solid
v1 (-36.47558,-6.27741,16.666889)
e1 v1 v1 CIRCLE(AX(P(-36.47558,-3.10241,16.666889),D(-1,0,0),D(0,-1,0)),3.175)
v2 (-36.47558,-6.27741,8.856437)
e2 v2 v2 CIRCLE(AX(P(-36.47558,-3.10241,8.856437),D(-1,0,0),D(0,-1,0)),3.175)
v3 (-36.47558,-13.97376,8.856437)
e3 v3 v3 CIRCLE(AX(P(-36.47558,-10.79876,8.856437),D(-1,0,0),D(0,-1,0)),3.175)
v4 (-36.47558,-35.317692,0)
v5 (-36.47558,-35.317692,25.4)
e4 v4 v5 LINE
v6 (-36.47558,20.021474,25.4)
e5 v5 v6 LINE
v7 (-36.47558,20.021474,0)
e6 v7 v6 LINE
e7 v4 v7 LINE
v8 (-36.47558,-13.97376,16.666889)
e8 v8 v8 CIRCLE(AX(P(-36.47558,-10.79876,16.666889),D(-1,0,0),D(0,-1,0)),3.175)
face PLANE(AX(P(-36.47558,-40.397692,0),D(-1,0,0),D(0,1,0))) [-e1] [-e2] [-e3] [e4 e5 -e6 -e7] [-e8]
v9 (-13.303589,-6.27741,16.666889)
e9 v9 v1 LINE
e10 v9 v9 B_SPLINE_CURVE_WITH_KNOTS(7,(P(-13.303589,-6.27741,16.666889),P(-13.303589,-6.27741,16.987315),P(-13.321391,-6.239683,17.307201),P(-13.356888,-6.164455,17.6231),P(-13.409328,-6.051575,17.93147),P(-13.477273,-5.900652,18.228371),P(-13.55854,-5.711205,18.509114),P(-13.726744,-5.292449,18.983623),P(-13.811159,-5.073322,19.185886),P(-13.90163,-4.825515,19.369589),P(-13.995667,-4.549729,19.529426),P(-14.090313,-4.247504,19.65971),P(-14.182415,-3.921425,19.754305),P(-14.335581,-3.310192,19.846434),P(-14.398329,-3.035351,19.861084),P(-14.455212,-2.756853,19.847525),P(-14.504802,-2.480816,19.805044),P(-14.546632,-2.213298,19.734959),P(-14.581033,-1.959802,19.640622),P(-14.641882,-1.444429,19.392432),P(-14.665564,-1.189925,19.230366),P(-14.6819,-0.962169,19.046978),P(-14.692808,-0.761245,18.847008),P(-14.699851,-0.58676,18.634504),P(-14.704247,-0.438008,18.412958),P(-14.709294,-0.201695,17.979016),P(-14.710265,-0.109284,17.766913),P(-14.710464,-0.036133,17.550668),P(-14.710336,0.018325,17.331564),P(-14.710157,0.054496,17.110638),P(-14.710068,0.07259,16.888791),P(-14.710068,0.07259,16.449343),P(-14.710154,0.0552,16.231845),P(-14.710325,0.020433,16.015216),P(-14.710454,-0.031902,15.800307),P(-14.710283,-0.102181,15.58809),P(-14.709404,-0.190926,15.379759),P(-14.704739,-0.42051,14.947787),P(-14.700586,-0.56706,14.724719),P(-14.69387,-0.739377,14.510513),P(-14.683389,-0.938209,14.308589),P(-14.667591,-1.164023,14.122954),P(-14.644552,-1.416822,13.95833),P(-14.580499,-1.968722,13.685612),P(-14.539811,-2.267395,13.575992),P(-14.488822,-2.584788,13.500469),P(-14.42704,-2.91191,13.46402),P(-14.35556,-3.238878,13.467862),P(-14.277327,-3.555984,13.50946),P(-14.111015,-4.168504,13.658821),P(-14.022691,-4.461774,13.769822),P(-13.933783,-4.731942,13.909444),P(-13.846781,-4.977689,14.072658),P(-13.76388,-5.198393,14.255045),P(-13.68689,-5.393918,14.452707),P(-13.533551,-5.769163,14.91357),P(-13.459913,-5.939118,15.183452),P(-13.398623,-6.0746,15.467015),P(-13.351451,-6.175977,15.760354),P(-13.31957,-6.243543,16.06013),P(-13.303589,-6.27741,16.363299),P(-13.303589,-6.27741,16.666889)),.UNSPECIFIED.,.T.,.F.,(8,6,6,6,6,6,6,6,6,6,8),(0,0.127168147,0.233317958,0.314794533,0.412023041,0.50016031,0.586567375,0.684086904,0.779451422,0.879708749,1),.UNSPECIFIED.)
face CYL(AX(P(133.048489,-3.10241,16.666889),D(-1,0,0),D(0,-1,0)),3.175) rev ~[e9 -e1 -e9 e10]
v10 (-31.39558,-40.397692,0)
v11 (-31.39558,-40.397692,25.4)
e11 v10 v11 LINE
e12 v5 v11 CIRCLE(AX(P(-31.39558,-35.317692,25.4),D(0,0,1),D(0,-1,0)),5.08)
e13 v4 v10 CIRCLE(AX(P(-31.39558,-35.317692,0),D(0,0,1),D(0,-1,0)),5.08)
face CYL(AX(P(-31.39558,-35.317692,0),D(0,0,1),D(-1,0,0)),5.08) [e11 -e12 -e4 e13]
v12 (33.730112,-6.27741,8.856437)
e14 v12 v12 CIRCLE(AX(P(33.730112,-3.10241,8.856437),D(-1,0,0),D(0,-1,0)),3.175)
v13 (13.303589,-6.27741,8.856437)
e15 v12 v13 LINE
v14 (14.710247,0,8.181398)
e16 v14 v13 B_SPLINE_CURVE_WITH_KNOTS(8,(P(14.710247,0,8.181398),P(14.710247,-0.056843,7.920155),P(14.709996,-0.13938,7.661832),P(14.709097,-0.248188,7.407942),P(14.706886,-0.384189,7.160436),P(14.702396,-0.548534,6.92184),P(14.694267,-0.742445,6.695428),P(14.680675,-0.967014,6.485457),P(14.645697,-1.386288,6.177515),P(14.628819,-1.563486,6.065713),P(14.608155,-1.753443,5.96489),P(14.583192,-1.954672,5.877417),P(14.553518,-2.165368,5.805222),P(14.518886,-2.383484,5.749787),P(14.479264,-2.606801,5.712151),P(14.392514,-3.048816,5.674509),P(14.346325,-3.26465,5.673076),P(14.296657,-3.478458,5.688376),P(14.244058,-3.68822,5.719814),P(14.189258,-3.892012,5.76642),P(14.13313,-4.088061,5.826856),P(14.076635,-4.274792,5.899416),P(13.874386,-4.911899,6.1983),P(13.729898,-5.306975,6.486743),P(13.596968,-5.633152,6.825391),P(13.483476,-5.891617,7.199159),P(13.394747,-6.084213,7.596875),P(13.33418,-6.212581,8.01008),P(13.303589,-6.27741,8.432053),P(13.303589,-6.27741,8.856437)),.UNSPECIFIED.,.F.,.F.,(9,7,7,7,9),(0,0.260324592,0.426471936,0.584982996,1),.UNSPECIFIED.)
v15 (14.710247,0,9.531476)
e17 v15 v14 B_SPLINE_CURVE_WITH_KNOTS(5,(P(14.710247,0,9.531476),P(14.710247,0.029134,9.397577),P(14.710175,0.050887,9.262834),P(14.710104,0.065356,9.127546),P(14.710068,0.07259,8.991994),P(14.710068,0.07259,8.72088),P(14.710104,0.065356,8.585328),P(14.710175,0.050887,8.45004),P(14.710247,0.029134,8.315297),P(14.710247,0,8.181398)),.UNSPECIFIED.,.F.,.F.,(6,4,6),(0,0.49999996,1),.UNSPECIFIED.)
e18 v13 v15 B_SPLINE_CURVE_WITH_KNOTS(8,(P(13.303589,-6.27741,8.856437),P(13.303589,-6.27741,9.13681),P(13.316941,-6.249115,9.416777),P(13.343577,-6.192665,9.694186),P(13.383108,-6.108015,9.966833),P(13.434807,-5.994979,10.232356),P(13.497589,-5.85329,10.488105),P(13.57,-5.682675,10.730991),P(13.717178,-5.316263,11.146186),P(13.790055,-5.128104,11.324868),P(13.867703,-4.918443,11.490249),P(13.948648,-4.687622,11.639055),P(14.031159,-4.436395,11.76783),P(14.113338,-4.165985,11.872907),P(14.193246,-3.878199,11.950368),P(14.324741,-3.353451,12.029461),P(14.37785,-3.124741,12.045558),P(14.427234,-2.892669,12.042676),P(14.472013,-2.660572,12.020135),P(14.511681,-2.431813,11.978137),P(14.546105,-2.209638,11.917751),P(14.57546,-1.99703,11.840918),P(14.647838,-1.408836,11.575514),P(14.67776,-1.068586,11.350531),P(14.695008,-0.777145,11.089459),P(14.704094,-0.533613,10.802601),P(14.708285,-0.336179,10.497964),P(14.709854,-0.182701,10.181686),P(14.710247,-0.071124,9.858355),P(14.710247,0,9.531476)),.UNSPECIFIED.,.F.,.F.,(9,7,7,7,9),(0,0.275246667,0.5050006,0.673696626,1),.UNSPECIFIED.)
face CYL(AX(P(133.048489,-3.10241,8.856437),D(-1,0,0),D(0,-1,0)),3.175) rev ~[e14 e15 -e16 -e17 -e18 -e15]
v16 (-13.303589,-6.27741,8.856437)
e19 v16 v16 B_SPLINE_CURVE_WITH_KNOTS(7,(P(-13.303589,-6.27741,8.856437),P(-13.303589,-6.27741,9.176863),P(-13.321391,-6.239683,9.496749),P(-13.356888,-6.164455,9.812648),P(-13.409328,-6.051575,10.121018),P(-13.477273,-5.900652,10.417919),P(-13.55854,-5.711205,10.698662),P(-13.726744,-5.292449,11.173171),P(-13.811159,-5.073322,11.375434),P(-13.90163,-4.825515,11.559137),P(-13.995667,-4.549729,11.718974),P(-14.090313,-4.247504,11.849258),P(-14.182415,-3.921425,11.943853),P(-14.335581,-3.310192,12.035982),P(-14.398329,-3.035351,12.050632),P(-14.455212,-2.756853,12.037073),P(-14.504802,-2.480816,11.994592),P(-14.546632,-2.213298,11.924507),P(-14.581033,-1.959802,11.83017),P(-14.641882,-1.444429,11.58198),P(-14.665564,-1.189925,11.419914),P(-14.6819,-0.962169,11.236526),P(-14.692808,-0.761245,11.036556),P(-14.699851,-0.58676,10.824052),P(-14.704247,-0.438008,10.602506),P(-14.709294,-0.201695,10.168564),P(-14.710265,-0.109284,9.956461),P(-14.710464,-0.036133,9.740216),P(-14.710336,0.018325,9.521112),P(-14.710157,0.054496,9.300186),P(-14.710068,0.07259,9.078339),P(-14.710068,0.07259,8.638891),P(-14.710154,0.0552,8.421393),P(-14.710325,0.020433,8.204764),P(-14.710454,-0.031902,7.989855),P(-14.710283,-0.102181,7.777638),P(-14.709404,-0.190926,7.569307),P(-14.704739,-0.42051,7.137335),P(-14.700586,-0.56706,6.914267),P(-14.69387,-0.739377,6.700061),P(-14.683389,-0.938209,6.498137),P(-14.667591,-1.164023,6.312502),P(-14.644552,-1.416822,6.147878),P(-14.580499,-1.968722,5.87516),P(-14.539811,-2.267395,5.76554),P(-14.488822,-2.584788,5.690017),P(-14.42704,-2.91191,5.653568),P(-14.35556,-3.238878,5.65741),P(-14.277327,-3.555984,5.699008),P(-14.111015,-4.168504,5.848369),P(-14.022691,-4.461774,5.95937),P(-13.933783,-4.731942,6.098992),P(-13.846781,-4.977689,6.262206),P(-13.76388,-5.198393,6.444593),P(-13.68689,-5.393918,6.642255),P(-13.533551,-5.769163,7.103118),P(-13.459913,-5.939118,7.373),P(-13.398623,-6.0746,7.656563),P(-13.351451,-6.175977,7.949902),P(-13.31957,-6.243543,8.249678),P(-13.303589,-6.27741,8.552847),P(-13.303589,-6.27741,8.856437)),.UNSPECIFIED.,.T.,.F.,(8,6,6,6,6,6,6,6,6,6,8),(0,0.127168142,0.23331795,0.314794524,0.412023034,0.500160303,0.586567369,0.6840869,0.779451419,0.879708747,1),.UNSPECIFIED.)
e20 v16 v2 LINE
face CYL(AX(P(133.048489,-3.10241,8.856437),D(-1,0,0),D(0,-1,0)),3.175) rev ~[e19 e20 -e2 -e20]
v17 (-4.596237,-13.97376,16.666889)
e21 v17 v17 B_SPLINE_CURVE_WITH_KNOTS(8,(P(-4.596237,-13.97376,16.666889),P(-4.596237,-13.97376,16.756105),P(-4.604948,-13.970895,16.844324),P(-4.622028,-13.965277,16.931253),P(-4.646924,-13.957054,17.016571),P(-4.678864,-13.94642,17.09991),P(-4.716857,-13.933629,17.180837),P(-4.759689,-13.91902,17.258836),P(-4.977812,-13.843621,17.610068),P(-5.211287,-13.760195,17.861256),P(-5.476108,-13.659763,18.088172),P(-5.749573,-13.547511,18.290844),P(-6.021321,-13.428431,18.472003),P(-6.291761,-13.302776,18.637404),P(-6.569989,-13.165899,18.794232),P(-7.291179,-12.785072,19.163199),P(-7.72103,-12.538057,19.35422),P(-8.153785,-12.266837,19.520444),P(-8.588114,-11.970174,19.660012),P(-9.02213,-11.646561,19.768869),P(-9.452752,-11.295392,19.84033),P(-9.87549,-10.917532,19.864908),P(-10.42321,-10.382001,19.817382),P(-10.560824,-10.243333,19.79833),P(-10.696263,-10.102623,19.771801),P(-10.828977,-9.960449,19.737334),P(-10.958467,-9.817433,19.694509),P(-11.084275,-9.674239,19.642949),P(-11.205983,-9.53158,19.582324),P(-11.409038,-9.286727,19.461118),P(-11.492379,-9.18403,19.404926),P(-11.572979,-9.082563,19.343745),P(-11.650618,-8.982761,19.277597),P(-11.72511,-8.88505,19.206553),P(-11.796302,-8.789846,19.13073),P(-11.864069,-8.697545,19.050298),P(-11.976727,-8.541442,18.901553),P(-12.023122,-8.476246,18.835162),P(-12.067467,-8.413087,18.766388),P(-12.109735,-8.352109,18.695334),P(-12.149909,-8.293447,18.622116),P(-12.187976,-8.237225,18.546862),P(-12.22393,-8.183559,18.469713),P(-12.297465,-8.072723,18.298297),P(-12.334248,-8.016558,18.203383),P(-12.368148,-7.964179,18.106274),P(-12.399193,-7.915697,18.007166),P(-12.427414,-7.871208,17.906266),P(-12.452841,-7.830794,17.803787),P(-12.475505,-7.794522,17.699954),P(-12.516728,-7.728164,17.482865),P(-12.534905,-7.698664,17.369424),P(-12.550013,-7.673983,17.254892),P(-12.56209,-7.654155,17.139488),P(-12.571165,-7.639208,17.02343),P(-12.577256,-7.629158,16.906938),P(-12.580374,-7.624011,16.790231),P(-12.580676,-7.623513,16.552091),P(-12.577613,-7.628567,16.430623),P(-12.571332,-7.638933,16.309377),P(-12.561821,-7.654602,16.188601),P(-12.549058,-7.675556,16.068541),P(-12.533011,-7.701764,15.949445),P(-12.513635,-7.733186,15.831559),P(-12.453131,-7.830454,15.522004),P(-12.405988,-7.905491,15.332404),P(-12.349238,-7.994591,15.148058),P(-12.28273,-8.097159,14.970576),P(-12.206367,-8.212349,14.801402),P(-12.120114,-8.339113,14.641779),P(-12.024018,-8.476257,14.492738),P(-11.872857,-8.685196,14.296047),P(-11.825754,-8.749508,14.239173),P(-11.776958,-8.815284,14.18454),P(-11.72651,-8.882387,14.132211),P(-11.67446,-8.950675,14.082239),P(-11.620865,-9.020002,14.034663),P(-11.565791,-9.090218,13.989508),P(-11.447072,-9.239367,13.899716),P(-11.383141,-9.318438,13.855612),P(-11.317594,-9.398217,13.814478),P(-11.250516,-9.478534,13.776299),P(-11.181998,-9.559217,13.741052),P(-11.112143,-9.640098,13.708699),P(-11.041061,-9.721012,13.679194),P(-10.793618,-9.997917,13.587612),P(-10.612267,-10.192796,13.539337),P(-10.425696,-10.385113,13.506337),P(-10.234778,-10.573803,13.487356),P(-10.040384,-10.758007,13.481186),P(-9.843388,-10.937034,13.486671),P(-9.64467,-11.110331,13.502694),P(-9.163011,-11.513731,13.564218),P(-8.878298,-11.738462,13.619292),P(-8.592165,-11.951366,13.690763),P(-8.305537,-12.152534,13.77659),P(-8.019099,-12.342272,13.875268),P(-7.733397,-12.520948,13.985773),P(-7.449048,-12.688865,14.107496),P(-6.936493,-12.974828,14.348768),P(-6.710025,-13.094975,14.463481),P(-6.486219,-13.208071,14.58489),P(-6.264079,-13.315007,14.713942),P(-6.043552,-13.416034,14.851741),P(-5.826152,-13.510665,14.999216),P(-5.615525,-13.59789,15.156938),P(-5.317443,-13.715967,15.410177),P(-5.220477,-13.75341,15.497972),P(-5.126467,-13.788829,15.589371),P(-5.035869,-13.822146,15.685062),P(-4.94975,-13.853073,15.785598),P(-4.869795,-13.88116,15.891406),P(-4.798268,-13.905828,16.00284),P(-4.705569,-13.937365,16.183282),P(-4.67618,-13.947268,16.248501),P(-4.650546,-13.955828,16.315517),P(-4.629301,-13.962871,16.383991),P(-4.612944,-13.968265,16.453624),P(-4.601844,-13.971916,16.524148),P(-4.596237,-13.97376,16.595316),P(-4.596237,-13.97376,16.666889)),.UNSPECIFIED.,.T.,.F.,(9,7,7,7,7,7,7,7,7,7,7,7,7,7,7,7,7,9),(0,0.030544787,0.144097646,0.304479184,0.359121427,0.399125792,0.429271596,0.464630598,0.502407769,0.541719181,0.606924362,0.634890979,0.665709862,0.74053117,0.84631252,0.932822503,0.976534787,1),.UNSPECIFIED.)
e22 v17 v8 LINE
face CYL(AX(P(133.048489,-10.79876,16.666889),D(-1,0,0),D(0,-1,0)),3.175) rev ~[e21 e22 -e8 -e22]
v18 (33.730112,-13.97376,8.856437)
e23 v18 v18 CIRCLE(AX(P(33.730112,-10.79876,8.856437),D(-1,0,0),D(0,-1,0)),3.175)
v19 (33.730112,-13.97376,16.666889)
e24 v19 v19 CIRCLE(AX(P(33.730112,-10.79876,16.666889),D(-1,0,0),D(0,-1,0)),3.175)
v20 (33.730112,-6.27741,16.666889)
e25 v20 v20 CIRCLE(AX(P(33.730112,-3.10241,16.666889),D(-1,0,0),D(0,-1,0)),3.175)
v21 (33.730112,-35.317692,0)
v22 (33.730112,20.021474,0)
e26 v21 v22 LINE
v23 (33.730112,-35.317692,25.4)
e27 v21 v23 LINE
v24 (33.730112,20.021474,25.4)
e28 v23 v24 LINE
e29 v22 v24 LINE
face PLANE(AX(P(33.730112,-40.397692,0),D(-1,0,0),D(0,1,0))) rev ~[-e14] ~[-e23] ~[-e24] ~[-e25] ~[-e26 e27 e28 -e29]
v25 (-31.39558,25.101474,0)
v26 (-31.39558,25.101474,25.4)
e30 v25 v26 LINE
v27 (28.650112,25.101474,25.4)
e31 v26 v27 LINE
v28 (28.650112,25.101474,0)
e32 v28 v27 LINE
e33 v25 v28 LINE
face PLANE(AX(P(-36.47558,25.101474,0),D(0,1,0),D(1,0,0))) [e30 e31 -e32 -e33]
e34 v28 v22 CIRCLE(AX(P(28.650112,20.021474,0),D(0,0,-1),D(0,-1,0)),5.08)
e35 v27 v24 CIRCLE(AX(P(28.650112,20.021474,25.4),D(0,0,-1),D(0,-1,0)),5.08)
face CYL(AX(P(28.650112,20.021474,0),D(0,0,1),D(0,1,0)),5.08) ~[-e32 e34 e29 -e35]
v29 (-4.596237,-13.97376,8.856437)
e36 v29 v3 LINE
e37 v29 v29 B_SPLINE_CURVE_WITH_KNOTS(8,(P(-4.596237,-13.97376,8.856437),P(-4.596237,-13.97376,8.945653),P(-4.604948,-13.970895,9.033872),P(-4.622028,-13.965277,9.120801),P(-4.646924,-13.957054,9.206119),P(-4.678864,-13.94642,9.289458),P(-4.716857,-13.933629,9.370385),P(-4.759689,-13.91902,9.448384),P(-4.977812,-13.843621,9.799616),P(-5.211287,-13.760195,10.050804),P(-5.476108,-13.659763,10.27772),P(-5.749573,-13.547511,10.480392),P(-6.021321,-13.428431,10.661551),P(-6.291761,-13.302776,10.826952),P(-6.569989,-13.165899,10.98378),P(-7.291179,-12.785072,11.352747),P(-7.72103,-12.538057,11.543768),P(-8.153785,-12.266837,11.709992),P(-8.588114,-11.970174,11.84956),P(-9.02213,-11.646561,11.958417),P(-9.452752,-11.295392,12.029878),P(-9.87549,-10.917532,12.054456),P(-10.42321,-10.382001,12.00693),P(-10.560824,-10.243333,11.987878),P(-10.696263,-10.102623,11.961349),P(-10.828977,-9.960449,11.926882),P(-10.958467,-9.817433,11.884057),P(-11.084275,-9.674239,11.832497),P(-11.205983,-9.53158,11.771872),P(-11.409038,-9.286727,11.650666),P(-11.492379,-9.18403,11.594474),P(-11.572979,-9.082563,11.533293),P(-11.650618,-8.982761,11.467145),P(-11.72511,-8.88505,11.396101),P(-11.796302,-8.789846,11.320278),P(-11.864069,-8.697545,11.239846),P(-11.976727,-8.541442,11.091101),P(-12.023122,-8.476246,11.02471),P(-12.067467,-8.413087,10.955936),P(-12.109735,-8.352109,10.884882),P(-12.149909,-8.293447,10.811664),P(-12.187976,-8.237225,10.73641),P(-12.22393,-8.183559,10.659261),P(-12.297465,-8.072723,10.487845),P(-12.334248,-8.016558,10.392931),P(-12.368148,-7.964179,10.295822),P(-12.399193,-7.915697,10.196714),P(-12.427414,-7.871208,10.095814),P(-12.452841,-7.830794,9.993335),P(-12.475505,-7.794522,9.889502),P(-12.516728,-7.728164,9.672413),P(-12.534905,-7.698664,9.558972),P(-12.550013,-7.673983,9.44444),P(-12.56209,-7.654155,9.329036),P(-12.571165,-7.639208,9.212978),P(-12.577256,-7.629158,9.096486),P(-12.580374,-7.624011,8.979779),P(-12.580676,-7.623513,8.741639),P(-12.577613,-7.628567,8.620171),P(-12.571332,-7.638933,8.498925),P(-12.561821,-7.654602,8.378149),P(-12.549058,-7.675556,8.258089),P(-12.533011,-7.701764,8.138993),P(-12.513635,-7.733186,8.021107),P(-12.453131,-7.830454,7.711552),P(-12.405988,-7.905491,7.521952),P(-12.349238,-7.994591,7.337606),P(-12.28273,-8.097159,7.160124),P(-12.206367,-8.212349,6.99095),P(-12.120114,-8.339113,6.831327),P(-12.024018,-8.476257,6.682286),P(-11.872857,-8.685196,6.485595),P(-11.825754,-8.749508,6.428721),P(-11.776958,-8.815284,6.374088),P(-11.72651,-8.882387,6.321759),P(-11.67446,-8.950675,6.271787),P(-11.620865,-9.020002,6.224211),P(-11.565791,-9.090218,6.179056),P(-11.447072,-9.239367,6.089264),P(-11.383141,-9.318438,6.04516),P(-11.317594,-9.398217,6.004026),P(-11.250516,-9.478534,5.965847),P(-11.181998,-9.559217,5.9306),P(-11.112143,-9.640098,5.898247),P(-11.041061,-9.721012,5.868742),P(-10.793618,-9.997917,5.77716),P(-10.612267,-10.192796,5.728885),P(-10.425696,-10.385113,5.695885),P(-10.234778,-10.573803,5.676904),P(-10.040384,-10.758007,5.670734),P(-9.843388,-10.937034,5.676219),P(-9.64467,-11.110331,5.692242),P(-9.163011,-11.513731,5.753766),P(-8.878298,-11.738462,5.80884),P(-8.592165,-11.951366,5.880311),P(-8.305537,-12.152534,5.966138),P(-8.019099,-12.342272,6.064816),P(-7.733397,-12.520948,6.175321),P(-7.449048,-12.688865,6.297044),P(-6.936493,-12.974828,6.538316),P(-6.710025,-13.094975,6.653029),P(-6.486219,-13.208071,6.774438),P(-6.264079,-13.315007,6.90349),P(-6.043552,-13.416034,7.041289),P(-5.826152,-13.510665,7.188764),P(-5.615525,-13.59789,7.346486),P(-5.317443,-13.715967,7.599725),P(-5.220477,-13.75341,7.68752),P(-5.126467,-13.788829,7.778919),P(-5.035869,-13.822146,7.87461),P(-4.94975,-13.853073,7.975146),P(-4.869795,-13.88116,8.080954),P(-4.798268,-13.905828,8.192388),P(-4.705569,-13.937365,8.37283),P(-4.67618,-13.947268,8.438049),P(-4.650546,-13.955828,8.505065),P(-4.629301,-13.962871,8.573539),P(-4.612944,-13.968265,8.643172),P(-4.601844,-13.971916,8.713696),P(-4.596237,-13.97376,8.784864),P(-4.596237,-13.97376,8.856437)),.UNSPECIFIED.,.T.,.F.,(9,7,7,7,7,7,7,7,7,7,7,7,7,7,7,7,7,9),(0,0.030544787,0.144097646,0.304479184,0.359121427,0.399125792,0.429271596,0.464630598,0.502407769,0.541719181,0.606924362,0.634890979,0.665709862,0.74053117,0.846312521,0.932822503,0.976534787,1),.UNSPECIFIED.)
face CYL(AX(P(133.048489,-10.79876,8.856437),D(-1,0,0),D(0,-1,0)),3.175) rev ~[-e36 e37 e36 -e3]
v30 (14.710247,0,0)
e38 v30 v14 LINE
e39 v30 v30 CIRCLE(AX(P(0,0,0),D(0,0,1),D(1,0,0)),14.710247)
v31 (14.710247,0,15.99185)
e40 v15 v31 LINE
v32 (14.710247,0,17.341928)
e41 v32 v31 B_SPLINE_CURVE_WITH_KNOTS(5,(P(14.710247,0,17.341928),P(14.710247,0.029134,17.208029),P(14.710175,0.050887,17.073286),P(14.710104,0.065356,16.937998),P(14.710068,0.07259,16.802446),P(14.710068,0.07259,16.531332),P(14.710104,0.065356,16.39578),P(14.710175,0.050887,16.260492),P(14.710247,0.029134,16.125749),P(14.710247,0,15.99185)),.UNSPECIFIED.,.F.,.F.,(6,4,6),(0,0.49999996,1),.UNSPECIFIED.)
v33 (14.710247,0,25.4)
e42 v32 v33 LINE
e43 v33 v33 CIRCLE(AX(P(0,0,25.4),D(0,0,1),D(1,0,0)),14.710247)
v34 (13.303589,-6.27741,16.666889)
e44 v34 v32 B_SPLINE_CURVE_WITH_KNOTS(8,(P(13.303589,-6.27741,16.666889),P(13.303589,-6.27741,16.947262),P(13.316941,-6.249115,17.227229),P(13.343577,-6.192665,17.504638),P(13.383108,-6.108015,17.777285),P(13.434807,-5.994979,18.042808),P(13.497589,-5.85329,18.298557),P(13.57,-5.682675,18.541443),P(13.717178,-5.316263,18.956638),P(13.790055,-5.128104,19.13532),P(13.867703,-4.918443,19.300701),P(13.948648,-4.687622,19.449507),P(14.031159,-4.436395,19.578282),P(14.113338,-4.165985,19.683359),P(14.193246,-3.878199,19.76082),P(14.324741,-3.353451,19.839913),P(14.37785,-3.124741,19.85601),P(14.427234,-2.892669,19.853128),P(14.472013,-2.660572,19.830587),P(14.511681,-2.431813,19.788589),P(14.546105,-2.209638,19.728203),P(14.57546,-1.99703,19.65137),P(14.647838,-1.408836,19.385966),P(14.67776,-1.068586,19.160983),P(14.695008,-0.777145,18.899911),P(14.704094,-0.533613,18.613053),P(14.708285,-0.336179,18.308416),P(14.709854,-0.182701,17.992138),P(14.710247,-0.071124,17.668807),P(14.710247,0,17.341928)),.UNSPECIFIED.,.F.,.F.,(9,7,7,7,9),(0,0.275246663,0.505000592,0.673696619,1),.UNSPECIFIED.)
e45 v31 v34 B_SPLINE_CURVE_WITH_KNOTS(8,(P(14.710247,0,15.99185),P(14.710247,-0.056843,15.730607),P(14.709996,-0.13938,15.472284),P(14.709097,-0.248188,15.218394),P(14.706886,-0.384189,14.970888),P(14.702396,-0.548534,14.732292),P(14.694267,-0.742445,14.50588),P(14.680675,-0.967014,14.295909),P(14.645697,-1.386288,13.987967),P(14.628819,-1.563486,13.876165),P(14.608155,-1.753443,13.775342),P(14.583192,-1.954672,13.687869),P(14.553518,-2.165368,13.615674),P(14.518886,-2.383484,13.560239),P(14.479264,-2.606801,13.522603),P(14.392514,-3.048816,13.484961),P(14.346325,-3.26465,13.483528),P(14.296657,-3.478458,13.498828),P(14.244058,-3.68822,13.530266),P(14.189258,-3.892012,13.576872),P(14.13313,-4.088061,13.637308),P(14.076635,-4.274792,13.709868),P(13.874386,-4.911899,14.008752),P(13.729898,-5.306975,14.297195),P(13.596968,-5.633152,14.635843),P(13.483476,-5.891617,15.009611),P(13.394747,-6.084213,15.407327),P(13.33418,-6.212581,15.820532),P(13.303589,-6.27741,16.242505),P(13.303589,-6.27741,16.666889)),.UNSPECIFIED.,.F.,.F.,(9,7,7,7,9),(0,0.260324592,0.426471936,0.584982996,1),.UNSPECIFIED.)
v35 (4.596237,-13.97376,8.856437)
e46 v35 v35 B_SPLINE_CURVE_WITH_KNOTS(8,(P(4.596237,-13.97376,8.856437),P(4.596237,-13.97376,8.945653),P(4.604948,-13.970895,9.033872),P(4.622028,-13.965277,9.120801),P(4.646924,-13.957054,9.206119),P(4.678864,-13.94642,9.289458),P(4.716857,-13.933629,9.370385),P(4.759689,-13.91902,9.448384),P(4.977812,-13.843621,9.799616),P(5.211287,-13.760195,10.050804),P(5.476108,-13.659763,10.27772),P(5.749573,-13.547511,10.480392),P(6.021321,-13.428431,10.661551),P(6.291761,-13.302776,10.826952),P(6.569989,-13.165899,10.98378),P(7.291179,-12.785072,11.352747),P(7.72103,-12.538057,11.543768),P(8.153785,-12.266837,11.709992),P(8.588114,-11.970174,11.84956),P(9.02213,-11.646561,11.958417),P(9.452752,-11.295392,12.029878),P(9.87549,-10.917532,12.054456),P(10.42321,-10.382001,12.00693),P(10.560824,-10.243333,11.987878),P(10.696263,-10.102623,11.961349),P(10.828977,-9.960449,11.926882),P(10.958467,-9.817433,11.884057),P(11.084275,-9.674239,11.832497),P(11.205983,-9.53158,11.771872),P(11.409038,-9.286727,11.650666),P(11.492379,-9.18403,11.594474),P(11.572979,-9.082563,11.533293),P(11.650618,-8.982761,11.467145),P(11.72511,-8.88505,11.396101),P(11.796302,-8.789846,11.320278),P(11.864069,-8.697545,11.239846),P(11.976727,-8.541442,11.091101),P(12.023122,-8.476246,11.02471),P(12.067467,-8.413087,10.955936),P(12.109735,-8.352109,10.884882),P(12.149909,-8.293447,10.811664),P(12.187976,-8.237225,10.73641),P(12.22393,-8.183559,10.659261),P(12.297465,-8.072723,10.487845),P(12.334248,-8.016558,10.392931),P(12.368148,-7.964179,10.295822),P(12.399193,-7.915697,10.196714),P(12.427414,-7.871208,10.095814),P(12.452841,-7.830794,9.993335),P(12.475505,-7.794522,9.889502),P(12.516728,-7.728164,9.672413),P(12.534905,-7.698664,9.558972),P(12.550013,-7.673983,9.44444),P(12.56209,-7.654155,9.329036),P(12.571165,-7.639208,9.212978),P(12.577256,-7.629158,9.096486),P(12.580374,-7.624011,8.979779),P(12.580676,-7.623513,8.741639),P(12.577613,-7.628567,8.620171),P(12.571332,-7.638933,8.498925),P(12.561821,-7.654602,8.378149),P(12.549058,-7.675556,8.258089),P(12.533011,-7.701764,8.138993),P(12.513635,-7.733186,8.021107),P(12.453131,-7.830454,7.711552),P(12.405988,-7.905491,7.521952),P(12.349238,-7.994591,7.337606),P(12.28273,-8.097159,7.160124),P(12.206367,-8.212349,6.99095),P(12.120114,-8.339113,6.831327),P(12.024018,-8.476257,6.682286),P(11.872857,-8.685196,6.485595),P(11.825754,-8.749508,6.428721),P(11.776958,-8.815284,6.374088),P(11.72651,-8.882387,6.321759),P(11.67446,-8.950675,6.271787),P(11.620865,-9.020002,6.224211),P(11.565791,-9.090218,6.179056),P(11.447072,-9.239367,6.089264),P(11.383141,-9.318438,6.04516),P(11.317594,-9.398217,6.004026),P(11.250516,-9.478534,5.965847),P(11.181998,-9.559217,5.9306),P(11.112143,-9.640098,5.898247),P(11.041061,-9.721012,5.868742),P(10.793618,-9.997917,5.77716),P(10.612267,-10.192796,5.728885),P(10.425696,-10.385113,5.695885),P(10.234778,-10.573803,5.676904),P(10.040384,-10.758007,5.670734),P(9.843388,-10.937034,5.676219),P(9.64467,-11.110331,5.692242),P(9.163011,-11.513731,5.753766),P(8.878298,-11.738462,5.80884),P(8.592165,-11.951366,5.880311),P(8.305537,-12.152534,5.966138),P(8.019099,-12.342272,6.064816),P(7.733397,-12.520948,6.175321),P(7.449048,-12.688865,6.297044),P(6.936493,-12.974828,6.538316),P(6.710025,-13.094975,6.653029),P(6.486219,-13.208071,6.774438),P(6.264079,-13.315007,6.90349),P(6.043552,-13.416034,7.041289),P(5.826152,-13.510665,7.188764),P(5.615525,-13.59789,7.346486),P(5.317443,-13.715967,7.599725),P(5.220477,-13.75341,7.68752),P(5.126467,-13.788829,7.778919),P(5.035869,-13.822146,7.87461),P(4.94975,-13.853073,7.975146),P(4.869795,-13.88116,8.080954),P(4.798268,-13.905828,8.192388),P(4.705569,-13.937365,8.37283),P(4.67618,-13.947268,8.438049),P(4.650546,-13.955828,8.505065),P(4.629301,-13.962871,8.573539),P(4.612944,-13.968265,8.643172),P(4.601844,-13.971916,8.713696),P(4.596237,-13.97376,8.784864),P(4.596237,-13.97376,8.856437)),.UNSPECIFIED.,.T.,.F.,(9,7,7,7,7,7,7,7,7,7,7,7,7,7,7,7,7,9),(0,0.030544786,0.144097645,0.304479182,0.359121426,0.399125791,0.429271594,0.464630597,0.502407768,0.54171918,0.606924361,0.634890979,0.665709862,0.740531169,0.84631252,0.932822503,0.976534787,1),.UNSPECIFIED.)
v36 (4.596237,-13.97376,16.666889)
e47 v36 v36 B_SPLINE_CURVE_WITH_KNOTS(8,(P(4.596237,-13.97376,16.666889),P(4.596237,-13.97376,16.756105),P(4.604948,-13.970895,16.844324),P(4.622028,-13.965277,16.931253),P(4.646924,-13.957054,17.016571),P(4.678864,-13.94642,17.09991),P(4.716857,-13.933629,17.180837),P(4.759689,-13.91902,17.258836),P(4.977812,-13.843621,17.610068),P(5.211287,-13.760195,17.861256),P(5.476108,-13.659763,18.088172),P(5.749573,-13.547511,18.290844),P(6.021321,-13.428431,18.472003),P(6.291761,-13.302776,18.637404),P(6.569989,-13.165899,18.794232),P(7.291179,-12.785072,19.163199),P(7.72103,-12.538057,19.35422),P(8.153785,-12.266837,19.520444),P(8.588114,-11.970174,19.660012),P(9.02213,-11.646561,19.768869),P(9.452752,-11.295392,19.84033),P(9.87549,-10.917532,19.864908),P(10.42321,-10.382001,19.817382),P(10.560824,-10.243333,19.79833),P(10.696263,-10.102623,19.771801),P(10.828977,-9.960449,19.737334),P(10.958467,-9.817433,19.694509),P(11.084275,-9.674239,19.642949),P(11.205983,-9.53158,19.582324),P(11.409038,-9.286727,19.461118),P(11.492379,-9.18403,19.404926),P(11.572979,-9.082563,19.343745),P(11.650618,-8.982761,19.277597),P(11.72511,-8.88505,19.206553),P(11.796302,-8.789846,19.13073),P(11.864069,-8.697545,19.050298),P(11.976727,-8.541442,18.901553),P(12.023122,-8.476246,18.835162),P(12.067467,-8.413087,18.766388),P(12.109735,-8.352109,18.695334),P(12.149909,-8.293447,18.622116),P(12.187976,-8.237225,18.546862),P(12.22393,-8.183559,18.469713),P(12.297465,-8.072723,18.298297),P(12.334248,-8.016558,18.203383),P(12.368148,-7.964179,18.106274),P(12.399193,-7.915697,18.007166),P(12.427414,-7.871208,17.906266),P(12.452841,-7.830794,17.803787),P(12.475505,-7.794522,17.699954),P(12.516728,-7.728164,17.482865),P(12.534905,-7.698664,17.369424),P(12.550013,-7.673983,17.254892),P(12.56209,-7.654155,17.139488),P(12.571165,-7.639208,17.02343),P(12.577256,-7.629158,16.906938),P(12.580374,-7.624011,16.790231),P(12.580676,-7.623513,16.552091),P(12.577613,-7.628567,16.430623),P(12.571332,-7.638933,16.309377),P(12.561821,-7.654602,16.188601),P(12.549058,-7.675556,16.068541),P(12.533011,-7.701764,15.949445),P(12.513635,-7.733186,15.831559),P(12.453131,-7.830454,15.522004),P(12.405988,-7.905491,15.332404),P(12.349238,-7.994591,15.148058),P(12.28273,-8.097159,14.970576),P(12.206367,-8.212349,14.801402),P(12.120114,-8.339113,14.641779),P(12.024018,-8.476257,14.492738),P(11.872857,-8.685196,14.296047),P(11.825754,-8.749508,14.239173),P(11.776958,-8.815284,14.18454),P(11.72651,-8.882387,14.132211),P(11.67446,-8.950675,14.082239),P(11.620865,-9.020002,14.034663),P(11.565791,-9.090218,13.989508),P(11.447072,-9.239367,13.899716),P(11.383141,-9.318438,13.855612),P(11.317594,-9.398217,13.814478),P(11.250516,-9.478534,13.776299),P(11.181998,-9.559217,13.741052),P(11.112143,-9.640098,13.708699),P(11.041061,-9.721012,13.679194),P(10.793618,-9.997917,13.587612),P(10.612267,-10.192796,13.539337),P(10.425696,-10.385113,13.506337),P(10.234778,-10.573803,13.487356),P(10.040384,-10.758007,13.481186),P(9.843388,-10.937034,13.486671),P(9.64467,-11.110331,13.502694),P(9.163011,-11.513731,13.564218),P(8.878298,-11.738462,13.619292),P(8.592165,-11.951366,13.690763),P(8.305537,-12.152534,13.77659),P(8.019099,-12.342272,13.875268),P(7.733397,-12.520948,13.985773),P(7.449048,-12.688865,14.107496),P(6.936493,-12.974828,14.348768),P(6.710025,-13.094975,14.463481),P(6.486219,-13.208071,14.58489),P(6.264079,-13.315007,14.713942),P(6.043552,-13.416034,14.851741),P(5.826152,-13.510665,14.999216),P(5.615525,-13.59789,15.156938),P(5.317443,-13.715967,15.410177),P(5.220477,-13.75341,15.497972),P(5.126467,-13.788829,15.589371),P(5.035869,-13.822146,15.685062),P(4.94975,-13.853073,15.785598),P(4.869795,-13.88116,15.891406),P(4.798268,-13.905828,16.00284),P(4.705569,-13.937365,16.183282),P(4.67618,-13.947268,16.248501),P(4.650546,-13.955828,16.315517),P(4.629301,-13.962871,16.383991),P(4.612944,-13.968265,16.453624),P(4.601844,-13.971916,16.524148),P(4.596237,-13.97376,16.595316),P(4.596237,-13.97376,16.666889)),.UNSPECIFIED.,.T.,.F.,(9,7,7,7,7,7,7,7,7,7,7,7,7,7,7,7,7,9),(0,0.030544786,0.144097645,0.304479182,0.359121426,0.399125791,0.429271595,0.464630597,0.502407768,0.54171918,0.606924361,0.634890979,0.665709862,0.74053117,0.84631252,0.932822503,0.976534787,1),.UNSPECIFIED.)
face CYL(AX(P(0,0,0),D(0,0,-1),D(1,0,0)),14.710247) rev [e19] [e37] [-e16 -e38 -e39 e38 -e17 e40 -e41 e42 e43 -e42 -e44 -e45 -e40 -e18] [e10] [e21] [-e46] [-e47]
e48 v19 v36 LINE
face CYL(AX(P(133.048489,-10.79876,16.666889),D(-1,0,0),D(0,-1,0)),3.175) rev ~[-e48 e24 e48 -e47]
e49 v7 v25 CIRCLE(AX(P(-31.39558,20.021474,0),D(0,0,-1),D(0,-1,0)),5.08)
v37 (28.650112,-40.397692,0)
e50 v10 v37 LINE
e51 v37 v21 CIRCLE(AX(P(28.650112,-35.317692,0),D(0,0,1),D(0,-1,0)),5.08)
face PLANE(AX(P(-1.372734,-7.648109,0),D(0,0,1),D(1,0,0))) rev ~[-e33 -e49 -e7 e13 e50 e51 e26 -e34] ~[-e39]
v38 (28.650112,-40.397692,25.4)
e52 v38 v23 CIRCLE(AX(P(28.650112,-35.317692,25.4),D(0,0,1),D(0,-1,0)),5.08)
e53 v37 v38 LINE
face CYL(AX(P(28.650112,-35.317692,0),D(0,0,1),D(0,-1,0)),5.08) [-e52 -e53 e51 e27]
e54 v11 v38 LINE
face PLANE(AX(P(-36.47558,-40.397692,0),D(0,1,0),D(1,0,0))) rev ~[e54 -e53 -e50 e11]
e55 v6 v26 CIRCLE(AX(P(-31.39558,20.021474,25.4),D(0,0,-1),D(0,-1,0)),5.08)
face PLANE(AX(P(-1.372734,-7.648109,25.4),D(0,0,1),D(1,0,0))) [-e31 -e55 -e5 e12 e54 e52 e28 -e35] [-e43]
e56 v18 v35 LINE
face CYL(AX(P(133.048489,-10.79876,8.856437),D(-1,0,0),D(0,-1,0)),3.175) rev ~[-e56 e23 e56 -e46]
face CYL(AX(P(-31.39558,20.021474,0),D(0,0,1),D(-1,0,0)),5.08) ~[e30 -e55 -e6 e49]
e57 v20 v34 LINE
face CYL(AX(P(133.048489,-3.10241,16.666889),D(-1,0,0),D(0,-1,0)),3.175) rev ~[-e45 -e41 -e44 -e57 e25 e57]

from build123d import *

# Parameters (mm, degrees)
F0_W     = 70.205692
F0_H     = 65.499166
F0_R     = 14.710247
F1_DEPTH = 25.4
F2_R     = 5.08
F3_R     = 5.08
F5_D     = 6.35


with BuildPart() as f1:
    # F0 (on Top) → F1 (new body)
    with BuildSketch(Plane.XY):
        with Locations((-1.372734, -7.648109)):
            Rectangle(F0_W, F0_H)
        Circle(F0_R, mode=Mode.SUBTRACT)
    extrude(amount=F1_DEPTH)

    # F2
    f2_edges = [f1.edges().sort_by_distance(p)[0] for p in [
        (-36.47558, 25.101474, 12.7),
    ]]
    fillet(f2_edges, radius=F2_R)

    # F3
    f3_edges = [f1.edges().sort_by_distance(p)[0] for p in [
        (33.730112, 25.101474, 12.7),
        (33.730112, -40.397692, 12.7),
        (-36.47558, -40.397692, 12.7),
    ]]
    fillet(f3_edges, radius=F3_R)

    # F5 (through all)
    with Locations(Plane.YZ.offset(33.730112)):
        with Locations((-3.10241, 16.666889), (-3.10241, 8.856437), (-10.79876, 8.856437), (-10.79876, 16.666889)):
            Hole(F5_D / 2)


solid = f1.part
